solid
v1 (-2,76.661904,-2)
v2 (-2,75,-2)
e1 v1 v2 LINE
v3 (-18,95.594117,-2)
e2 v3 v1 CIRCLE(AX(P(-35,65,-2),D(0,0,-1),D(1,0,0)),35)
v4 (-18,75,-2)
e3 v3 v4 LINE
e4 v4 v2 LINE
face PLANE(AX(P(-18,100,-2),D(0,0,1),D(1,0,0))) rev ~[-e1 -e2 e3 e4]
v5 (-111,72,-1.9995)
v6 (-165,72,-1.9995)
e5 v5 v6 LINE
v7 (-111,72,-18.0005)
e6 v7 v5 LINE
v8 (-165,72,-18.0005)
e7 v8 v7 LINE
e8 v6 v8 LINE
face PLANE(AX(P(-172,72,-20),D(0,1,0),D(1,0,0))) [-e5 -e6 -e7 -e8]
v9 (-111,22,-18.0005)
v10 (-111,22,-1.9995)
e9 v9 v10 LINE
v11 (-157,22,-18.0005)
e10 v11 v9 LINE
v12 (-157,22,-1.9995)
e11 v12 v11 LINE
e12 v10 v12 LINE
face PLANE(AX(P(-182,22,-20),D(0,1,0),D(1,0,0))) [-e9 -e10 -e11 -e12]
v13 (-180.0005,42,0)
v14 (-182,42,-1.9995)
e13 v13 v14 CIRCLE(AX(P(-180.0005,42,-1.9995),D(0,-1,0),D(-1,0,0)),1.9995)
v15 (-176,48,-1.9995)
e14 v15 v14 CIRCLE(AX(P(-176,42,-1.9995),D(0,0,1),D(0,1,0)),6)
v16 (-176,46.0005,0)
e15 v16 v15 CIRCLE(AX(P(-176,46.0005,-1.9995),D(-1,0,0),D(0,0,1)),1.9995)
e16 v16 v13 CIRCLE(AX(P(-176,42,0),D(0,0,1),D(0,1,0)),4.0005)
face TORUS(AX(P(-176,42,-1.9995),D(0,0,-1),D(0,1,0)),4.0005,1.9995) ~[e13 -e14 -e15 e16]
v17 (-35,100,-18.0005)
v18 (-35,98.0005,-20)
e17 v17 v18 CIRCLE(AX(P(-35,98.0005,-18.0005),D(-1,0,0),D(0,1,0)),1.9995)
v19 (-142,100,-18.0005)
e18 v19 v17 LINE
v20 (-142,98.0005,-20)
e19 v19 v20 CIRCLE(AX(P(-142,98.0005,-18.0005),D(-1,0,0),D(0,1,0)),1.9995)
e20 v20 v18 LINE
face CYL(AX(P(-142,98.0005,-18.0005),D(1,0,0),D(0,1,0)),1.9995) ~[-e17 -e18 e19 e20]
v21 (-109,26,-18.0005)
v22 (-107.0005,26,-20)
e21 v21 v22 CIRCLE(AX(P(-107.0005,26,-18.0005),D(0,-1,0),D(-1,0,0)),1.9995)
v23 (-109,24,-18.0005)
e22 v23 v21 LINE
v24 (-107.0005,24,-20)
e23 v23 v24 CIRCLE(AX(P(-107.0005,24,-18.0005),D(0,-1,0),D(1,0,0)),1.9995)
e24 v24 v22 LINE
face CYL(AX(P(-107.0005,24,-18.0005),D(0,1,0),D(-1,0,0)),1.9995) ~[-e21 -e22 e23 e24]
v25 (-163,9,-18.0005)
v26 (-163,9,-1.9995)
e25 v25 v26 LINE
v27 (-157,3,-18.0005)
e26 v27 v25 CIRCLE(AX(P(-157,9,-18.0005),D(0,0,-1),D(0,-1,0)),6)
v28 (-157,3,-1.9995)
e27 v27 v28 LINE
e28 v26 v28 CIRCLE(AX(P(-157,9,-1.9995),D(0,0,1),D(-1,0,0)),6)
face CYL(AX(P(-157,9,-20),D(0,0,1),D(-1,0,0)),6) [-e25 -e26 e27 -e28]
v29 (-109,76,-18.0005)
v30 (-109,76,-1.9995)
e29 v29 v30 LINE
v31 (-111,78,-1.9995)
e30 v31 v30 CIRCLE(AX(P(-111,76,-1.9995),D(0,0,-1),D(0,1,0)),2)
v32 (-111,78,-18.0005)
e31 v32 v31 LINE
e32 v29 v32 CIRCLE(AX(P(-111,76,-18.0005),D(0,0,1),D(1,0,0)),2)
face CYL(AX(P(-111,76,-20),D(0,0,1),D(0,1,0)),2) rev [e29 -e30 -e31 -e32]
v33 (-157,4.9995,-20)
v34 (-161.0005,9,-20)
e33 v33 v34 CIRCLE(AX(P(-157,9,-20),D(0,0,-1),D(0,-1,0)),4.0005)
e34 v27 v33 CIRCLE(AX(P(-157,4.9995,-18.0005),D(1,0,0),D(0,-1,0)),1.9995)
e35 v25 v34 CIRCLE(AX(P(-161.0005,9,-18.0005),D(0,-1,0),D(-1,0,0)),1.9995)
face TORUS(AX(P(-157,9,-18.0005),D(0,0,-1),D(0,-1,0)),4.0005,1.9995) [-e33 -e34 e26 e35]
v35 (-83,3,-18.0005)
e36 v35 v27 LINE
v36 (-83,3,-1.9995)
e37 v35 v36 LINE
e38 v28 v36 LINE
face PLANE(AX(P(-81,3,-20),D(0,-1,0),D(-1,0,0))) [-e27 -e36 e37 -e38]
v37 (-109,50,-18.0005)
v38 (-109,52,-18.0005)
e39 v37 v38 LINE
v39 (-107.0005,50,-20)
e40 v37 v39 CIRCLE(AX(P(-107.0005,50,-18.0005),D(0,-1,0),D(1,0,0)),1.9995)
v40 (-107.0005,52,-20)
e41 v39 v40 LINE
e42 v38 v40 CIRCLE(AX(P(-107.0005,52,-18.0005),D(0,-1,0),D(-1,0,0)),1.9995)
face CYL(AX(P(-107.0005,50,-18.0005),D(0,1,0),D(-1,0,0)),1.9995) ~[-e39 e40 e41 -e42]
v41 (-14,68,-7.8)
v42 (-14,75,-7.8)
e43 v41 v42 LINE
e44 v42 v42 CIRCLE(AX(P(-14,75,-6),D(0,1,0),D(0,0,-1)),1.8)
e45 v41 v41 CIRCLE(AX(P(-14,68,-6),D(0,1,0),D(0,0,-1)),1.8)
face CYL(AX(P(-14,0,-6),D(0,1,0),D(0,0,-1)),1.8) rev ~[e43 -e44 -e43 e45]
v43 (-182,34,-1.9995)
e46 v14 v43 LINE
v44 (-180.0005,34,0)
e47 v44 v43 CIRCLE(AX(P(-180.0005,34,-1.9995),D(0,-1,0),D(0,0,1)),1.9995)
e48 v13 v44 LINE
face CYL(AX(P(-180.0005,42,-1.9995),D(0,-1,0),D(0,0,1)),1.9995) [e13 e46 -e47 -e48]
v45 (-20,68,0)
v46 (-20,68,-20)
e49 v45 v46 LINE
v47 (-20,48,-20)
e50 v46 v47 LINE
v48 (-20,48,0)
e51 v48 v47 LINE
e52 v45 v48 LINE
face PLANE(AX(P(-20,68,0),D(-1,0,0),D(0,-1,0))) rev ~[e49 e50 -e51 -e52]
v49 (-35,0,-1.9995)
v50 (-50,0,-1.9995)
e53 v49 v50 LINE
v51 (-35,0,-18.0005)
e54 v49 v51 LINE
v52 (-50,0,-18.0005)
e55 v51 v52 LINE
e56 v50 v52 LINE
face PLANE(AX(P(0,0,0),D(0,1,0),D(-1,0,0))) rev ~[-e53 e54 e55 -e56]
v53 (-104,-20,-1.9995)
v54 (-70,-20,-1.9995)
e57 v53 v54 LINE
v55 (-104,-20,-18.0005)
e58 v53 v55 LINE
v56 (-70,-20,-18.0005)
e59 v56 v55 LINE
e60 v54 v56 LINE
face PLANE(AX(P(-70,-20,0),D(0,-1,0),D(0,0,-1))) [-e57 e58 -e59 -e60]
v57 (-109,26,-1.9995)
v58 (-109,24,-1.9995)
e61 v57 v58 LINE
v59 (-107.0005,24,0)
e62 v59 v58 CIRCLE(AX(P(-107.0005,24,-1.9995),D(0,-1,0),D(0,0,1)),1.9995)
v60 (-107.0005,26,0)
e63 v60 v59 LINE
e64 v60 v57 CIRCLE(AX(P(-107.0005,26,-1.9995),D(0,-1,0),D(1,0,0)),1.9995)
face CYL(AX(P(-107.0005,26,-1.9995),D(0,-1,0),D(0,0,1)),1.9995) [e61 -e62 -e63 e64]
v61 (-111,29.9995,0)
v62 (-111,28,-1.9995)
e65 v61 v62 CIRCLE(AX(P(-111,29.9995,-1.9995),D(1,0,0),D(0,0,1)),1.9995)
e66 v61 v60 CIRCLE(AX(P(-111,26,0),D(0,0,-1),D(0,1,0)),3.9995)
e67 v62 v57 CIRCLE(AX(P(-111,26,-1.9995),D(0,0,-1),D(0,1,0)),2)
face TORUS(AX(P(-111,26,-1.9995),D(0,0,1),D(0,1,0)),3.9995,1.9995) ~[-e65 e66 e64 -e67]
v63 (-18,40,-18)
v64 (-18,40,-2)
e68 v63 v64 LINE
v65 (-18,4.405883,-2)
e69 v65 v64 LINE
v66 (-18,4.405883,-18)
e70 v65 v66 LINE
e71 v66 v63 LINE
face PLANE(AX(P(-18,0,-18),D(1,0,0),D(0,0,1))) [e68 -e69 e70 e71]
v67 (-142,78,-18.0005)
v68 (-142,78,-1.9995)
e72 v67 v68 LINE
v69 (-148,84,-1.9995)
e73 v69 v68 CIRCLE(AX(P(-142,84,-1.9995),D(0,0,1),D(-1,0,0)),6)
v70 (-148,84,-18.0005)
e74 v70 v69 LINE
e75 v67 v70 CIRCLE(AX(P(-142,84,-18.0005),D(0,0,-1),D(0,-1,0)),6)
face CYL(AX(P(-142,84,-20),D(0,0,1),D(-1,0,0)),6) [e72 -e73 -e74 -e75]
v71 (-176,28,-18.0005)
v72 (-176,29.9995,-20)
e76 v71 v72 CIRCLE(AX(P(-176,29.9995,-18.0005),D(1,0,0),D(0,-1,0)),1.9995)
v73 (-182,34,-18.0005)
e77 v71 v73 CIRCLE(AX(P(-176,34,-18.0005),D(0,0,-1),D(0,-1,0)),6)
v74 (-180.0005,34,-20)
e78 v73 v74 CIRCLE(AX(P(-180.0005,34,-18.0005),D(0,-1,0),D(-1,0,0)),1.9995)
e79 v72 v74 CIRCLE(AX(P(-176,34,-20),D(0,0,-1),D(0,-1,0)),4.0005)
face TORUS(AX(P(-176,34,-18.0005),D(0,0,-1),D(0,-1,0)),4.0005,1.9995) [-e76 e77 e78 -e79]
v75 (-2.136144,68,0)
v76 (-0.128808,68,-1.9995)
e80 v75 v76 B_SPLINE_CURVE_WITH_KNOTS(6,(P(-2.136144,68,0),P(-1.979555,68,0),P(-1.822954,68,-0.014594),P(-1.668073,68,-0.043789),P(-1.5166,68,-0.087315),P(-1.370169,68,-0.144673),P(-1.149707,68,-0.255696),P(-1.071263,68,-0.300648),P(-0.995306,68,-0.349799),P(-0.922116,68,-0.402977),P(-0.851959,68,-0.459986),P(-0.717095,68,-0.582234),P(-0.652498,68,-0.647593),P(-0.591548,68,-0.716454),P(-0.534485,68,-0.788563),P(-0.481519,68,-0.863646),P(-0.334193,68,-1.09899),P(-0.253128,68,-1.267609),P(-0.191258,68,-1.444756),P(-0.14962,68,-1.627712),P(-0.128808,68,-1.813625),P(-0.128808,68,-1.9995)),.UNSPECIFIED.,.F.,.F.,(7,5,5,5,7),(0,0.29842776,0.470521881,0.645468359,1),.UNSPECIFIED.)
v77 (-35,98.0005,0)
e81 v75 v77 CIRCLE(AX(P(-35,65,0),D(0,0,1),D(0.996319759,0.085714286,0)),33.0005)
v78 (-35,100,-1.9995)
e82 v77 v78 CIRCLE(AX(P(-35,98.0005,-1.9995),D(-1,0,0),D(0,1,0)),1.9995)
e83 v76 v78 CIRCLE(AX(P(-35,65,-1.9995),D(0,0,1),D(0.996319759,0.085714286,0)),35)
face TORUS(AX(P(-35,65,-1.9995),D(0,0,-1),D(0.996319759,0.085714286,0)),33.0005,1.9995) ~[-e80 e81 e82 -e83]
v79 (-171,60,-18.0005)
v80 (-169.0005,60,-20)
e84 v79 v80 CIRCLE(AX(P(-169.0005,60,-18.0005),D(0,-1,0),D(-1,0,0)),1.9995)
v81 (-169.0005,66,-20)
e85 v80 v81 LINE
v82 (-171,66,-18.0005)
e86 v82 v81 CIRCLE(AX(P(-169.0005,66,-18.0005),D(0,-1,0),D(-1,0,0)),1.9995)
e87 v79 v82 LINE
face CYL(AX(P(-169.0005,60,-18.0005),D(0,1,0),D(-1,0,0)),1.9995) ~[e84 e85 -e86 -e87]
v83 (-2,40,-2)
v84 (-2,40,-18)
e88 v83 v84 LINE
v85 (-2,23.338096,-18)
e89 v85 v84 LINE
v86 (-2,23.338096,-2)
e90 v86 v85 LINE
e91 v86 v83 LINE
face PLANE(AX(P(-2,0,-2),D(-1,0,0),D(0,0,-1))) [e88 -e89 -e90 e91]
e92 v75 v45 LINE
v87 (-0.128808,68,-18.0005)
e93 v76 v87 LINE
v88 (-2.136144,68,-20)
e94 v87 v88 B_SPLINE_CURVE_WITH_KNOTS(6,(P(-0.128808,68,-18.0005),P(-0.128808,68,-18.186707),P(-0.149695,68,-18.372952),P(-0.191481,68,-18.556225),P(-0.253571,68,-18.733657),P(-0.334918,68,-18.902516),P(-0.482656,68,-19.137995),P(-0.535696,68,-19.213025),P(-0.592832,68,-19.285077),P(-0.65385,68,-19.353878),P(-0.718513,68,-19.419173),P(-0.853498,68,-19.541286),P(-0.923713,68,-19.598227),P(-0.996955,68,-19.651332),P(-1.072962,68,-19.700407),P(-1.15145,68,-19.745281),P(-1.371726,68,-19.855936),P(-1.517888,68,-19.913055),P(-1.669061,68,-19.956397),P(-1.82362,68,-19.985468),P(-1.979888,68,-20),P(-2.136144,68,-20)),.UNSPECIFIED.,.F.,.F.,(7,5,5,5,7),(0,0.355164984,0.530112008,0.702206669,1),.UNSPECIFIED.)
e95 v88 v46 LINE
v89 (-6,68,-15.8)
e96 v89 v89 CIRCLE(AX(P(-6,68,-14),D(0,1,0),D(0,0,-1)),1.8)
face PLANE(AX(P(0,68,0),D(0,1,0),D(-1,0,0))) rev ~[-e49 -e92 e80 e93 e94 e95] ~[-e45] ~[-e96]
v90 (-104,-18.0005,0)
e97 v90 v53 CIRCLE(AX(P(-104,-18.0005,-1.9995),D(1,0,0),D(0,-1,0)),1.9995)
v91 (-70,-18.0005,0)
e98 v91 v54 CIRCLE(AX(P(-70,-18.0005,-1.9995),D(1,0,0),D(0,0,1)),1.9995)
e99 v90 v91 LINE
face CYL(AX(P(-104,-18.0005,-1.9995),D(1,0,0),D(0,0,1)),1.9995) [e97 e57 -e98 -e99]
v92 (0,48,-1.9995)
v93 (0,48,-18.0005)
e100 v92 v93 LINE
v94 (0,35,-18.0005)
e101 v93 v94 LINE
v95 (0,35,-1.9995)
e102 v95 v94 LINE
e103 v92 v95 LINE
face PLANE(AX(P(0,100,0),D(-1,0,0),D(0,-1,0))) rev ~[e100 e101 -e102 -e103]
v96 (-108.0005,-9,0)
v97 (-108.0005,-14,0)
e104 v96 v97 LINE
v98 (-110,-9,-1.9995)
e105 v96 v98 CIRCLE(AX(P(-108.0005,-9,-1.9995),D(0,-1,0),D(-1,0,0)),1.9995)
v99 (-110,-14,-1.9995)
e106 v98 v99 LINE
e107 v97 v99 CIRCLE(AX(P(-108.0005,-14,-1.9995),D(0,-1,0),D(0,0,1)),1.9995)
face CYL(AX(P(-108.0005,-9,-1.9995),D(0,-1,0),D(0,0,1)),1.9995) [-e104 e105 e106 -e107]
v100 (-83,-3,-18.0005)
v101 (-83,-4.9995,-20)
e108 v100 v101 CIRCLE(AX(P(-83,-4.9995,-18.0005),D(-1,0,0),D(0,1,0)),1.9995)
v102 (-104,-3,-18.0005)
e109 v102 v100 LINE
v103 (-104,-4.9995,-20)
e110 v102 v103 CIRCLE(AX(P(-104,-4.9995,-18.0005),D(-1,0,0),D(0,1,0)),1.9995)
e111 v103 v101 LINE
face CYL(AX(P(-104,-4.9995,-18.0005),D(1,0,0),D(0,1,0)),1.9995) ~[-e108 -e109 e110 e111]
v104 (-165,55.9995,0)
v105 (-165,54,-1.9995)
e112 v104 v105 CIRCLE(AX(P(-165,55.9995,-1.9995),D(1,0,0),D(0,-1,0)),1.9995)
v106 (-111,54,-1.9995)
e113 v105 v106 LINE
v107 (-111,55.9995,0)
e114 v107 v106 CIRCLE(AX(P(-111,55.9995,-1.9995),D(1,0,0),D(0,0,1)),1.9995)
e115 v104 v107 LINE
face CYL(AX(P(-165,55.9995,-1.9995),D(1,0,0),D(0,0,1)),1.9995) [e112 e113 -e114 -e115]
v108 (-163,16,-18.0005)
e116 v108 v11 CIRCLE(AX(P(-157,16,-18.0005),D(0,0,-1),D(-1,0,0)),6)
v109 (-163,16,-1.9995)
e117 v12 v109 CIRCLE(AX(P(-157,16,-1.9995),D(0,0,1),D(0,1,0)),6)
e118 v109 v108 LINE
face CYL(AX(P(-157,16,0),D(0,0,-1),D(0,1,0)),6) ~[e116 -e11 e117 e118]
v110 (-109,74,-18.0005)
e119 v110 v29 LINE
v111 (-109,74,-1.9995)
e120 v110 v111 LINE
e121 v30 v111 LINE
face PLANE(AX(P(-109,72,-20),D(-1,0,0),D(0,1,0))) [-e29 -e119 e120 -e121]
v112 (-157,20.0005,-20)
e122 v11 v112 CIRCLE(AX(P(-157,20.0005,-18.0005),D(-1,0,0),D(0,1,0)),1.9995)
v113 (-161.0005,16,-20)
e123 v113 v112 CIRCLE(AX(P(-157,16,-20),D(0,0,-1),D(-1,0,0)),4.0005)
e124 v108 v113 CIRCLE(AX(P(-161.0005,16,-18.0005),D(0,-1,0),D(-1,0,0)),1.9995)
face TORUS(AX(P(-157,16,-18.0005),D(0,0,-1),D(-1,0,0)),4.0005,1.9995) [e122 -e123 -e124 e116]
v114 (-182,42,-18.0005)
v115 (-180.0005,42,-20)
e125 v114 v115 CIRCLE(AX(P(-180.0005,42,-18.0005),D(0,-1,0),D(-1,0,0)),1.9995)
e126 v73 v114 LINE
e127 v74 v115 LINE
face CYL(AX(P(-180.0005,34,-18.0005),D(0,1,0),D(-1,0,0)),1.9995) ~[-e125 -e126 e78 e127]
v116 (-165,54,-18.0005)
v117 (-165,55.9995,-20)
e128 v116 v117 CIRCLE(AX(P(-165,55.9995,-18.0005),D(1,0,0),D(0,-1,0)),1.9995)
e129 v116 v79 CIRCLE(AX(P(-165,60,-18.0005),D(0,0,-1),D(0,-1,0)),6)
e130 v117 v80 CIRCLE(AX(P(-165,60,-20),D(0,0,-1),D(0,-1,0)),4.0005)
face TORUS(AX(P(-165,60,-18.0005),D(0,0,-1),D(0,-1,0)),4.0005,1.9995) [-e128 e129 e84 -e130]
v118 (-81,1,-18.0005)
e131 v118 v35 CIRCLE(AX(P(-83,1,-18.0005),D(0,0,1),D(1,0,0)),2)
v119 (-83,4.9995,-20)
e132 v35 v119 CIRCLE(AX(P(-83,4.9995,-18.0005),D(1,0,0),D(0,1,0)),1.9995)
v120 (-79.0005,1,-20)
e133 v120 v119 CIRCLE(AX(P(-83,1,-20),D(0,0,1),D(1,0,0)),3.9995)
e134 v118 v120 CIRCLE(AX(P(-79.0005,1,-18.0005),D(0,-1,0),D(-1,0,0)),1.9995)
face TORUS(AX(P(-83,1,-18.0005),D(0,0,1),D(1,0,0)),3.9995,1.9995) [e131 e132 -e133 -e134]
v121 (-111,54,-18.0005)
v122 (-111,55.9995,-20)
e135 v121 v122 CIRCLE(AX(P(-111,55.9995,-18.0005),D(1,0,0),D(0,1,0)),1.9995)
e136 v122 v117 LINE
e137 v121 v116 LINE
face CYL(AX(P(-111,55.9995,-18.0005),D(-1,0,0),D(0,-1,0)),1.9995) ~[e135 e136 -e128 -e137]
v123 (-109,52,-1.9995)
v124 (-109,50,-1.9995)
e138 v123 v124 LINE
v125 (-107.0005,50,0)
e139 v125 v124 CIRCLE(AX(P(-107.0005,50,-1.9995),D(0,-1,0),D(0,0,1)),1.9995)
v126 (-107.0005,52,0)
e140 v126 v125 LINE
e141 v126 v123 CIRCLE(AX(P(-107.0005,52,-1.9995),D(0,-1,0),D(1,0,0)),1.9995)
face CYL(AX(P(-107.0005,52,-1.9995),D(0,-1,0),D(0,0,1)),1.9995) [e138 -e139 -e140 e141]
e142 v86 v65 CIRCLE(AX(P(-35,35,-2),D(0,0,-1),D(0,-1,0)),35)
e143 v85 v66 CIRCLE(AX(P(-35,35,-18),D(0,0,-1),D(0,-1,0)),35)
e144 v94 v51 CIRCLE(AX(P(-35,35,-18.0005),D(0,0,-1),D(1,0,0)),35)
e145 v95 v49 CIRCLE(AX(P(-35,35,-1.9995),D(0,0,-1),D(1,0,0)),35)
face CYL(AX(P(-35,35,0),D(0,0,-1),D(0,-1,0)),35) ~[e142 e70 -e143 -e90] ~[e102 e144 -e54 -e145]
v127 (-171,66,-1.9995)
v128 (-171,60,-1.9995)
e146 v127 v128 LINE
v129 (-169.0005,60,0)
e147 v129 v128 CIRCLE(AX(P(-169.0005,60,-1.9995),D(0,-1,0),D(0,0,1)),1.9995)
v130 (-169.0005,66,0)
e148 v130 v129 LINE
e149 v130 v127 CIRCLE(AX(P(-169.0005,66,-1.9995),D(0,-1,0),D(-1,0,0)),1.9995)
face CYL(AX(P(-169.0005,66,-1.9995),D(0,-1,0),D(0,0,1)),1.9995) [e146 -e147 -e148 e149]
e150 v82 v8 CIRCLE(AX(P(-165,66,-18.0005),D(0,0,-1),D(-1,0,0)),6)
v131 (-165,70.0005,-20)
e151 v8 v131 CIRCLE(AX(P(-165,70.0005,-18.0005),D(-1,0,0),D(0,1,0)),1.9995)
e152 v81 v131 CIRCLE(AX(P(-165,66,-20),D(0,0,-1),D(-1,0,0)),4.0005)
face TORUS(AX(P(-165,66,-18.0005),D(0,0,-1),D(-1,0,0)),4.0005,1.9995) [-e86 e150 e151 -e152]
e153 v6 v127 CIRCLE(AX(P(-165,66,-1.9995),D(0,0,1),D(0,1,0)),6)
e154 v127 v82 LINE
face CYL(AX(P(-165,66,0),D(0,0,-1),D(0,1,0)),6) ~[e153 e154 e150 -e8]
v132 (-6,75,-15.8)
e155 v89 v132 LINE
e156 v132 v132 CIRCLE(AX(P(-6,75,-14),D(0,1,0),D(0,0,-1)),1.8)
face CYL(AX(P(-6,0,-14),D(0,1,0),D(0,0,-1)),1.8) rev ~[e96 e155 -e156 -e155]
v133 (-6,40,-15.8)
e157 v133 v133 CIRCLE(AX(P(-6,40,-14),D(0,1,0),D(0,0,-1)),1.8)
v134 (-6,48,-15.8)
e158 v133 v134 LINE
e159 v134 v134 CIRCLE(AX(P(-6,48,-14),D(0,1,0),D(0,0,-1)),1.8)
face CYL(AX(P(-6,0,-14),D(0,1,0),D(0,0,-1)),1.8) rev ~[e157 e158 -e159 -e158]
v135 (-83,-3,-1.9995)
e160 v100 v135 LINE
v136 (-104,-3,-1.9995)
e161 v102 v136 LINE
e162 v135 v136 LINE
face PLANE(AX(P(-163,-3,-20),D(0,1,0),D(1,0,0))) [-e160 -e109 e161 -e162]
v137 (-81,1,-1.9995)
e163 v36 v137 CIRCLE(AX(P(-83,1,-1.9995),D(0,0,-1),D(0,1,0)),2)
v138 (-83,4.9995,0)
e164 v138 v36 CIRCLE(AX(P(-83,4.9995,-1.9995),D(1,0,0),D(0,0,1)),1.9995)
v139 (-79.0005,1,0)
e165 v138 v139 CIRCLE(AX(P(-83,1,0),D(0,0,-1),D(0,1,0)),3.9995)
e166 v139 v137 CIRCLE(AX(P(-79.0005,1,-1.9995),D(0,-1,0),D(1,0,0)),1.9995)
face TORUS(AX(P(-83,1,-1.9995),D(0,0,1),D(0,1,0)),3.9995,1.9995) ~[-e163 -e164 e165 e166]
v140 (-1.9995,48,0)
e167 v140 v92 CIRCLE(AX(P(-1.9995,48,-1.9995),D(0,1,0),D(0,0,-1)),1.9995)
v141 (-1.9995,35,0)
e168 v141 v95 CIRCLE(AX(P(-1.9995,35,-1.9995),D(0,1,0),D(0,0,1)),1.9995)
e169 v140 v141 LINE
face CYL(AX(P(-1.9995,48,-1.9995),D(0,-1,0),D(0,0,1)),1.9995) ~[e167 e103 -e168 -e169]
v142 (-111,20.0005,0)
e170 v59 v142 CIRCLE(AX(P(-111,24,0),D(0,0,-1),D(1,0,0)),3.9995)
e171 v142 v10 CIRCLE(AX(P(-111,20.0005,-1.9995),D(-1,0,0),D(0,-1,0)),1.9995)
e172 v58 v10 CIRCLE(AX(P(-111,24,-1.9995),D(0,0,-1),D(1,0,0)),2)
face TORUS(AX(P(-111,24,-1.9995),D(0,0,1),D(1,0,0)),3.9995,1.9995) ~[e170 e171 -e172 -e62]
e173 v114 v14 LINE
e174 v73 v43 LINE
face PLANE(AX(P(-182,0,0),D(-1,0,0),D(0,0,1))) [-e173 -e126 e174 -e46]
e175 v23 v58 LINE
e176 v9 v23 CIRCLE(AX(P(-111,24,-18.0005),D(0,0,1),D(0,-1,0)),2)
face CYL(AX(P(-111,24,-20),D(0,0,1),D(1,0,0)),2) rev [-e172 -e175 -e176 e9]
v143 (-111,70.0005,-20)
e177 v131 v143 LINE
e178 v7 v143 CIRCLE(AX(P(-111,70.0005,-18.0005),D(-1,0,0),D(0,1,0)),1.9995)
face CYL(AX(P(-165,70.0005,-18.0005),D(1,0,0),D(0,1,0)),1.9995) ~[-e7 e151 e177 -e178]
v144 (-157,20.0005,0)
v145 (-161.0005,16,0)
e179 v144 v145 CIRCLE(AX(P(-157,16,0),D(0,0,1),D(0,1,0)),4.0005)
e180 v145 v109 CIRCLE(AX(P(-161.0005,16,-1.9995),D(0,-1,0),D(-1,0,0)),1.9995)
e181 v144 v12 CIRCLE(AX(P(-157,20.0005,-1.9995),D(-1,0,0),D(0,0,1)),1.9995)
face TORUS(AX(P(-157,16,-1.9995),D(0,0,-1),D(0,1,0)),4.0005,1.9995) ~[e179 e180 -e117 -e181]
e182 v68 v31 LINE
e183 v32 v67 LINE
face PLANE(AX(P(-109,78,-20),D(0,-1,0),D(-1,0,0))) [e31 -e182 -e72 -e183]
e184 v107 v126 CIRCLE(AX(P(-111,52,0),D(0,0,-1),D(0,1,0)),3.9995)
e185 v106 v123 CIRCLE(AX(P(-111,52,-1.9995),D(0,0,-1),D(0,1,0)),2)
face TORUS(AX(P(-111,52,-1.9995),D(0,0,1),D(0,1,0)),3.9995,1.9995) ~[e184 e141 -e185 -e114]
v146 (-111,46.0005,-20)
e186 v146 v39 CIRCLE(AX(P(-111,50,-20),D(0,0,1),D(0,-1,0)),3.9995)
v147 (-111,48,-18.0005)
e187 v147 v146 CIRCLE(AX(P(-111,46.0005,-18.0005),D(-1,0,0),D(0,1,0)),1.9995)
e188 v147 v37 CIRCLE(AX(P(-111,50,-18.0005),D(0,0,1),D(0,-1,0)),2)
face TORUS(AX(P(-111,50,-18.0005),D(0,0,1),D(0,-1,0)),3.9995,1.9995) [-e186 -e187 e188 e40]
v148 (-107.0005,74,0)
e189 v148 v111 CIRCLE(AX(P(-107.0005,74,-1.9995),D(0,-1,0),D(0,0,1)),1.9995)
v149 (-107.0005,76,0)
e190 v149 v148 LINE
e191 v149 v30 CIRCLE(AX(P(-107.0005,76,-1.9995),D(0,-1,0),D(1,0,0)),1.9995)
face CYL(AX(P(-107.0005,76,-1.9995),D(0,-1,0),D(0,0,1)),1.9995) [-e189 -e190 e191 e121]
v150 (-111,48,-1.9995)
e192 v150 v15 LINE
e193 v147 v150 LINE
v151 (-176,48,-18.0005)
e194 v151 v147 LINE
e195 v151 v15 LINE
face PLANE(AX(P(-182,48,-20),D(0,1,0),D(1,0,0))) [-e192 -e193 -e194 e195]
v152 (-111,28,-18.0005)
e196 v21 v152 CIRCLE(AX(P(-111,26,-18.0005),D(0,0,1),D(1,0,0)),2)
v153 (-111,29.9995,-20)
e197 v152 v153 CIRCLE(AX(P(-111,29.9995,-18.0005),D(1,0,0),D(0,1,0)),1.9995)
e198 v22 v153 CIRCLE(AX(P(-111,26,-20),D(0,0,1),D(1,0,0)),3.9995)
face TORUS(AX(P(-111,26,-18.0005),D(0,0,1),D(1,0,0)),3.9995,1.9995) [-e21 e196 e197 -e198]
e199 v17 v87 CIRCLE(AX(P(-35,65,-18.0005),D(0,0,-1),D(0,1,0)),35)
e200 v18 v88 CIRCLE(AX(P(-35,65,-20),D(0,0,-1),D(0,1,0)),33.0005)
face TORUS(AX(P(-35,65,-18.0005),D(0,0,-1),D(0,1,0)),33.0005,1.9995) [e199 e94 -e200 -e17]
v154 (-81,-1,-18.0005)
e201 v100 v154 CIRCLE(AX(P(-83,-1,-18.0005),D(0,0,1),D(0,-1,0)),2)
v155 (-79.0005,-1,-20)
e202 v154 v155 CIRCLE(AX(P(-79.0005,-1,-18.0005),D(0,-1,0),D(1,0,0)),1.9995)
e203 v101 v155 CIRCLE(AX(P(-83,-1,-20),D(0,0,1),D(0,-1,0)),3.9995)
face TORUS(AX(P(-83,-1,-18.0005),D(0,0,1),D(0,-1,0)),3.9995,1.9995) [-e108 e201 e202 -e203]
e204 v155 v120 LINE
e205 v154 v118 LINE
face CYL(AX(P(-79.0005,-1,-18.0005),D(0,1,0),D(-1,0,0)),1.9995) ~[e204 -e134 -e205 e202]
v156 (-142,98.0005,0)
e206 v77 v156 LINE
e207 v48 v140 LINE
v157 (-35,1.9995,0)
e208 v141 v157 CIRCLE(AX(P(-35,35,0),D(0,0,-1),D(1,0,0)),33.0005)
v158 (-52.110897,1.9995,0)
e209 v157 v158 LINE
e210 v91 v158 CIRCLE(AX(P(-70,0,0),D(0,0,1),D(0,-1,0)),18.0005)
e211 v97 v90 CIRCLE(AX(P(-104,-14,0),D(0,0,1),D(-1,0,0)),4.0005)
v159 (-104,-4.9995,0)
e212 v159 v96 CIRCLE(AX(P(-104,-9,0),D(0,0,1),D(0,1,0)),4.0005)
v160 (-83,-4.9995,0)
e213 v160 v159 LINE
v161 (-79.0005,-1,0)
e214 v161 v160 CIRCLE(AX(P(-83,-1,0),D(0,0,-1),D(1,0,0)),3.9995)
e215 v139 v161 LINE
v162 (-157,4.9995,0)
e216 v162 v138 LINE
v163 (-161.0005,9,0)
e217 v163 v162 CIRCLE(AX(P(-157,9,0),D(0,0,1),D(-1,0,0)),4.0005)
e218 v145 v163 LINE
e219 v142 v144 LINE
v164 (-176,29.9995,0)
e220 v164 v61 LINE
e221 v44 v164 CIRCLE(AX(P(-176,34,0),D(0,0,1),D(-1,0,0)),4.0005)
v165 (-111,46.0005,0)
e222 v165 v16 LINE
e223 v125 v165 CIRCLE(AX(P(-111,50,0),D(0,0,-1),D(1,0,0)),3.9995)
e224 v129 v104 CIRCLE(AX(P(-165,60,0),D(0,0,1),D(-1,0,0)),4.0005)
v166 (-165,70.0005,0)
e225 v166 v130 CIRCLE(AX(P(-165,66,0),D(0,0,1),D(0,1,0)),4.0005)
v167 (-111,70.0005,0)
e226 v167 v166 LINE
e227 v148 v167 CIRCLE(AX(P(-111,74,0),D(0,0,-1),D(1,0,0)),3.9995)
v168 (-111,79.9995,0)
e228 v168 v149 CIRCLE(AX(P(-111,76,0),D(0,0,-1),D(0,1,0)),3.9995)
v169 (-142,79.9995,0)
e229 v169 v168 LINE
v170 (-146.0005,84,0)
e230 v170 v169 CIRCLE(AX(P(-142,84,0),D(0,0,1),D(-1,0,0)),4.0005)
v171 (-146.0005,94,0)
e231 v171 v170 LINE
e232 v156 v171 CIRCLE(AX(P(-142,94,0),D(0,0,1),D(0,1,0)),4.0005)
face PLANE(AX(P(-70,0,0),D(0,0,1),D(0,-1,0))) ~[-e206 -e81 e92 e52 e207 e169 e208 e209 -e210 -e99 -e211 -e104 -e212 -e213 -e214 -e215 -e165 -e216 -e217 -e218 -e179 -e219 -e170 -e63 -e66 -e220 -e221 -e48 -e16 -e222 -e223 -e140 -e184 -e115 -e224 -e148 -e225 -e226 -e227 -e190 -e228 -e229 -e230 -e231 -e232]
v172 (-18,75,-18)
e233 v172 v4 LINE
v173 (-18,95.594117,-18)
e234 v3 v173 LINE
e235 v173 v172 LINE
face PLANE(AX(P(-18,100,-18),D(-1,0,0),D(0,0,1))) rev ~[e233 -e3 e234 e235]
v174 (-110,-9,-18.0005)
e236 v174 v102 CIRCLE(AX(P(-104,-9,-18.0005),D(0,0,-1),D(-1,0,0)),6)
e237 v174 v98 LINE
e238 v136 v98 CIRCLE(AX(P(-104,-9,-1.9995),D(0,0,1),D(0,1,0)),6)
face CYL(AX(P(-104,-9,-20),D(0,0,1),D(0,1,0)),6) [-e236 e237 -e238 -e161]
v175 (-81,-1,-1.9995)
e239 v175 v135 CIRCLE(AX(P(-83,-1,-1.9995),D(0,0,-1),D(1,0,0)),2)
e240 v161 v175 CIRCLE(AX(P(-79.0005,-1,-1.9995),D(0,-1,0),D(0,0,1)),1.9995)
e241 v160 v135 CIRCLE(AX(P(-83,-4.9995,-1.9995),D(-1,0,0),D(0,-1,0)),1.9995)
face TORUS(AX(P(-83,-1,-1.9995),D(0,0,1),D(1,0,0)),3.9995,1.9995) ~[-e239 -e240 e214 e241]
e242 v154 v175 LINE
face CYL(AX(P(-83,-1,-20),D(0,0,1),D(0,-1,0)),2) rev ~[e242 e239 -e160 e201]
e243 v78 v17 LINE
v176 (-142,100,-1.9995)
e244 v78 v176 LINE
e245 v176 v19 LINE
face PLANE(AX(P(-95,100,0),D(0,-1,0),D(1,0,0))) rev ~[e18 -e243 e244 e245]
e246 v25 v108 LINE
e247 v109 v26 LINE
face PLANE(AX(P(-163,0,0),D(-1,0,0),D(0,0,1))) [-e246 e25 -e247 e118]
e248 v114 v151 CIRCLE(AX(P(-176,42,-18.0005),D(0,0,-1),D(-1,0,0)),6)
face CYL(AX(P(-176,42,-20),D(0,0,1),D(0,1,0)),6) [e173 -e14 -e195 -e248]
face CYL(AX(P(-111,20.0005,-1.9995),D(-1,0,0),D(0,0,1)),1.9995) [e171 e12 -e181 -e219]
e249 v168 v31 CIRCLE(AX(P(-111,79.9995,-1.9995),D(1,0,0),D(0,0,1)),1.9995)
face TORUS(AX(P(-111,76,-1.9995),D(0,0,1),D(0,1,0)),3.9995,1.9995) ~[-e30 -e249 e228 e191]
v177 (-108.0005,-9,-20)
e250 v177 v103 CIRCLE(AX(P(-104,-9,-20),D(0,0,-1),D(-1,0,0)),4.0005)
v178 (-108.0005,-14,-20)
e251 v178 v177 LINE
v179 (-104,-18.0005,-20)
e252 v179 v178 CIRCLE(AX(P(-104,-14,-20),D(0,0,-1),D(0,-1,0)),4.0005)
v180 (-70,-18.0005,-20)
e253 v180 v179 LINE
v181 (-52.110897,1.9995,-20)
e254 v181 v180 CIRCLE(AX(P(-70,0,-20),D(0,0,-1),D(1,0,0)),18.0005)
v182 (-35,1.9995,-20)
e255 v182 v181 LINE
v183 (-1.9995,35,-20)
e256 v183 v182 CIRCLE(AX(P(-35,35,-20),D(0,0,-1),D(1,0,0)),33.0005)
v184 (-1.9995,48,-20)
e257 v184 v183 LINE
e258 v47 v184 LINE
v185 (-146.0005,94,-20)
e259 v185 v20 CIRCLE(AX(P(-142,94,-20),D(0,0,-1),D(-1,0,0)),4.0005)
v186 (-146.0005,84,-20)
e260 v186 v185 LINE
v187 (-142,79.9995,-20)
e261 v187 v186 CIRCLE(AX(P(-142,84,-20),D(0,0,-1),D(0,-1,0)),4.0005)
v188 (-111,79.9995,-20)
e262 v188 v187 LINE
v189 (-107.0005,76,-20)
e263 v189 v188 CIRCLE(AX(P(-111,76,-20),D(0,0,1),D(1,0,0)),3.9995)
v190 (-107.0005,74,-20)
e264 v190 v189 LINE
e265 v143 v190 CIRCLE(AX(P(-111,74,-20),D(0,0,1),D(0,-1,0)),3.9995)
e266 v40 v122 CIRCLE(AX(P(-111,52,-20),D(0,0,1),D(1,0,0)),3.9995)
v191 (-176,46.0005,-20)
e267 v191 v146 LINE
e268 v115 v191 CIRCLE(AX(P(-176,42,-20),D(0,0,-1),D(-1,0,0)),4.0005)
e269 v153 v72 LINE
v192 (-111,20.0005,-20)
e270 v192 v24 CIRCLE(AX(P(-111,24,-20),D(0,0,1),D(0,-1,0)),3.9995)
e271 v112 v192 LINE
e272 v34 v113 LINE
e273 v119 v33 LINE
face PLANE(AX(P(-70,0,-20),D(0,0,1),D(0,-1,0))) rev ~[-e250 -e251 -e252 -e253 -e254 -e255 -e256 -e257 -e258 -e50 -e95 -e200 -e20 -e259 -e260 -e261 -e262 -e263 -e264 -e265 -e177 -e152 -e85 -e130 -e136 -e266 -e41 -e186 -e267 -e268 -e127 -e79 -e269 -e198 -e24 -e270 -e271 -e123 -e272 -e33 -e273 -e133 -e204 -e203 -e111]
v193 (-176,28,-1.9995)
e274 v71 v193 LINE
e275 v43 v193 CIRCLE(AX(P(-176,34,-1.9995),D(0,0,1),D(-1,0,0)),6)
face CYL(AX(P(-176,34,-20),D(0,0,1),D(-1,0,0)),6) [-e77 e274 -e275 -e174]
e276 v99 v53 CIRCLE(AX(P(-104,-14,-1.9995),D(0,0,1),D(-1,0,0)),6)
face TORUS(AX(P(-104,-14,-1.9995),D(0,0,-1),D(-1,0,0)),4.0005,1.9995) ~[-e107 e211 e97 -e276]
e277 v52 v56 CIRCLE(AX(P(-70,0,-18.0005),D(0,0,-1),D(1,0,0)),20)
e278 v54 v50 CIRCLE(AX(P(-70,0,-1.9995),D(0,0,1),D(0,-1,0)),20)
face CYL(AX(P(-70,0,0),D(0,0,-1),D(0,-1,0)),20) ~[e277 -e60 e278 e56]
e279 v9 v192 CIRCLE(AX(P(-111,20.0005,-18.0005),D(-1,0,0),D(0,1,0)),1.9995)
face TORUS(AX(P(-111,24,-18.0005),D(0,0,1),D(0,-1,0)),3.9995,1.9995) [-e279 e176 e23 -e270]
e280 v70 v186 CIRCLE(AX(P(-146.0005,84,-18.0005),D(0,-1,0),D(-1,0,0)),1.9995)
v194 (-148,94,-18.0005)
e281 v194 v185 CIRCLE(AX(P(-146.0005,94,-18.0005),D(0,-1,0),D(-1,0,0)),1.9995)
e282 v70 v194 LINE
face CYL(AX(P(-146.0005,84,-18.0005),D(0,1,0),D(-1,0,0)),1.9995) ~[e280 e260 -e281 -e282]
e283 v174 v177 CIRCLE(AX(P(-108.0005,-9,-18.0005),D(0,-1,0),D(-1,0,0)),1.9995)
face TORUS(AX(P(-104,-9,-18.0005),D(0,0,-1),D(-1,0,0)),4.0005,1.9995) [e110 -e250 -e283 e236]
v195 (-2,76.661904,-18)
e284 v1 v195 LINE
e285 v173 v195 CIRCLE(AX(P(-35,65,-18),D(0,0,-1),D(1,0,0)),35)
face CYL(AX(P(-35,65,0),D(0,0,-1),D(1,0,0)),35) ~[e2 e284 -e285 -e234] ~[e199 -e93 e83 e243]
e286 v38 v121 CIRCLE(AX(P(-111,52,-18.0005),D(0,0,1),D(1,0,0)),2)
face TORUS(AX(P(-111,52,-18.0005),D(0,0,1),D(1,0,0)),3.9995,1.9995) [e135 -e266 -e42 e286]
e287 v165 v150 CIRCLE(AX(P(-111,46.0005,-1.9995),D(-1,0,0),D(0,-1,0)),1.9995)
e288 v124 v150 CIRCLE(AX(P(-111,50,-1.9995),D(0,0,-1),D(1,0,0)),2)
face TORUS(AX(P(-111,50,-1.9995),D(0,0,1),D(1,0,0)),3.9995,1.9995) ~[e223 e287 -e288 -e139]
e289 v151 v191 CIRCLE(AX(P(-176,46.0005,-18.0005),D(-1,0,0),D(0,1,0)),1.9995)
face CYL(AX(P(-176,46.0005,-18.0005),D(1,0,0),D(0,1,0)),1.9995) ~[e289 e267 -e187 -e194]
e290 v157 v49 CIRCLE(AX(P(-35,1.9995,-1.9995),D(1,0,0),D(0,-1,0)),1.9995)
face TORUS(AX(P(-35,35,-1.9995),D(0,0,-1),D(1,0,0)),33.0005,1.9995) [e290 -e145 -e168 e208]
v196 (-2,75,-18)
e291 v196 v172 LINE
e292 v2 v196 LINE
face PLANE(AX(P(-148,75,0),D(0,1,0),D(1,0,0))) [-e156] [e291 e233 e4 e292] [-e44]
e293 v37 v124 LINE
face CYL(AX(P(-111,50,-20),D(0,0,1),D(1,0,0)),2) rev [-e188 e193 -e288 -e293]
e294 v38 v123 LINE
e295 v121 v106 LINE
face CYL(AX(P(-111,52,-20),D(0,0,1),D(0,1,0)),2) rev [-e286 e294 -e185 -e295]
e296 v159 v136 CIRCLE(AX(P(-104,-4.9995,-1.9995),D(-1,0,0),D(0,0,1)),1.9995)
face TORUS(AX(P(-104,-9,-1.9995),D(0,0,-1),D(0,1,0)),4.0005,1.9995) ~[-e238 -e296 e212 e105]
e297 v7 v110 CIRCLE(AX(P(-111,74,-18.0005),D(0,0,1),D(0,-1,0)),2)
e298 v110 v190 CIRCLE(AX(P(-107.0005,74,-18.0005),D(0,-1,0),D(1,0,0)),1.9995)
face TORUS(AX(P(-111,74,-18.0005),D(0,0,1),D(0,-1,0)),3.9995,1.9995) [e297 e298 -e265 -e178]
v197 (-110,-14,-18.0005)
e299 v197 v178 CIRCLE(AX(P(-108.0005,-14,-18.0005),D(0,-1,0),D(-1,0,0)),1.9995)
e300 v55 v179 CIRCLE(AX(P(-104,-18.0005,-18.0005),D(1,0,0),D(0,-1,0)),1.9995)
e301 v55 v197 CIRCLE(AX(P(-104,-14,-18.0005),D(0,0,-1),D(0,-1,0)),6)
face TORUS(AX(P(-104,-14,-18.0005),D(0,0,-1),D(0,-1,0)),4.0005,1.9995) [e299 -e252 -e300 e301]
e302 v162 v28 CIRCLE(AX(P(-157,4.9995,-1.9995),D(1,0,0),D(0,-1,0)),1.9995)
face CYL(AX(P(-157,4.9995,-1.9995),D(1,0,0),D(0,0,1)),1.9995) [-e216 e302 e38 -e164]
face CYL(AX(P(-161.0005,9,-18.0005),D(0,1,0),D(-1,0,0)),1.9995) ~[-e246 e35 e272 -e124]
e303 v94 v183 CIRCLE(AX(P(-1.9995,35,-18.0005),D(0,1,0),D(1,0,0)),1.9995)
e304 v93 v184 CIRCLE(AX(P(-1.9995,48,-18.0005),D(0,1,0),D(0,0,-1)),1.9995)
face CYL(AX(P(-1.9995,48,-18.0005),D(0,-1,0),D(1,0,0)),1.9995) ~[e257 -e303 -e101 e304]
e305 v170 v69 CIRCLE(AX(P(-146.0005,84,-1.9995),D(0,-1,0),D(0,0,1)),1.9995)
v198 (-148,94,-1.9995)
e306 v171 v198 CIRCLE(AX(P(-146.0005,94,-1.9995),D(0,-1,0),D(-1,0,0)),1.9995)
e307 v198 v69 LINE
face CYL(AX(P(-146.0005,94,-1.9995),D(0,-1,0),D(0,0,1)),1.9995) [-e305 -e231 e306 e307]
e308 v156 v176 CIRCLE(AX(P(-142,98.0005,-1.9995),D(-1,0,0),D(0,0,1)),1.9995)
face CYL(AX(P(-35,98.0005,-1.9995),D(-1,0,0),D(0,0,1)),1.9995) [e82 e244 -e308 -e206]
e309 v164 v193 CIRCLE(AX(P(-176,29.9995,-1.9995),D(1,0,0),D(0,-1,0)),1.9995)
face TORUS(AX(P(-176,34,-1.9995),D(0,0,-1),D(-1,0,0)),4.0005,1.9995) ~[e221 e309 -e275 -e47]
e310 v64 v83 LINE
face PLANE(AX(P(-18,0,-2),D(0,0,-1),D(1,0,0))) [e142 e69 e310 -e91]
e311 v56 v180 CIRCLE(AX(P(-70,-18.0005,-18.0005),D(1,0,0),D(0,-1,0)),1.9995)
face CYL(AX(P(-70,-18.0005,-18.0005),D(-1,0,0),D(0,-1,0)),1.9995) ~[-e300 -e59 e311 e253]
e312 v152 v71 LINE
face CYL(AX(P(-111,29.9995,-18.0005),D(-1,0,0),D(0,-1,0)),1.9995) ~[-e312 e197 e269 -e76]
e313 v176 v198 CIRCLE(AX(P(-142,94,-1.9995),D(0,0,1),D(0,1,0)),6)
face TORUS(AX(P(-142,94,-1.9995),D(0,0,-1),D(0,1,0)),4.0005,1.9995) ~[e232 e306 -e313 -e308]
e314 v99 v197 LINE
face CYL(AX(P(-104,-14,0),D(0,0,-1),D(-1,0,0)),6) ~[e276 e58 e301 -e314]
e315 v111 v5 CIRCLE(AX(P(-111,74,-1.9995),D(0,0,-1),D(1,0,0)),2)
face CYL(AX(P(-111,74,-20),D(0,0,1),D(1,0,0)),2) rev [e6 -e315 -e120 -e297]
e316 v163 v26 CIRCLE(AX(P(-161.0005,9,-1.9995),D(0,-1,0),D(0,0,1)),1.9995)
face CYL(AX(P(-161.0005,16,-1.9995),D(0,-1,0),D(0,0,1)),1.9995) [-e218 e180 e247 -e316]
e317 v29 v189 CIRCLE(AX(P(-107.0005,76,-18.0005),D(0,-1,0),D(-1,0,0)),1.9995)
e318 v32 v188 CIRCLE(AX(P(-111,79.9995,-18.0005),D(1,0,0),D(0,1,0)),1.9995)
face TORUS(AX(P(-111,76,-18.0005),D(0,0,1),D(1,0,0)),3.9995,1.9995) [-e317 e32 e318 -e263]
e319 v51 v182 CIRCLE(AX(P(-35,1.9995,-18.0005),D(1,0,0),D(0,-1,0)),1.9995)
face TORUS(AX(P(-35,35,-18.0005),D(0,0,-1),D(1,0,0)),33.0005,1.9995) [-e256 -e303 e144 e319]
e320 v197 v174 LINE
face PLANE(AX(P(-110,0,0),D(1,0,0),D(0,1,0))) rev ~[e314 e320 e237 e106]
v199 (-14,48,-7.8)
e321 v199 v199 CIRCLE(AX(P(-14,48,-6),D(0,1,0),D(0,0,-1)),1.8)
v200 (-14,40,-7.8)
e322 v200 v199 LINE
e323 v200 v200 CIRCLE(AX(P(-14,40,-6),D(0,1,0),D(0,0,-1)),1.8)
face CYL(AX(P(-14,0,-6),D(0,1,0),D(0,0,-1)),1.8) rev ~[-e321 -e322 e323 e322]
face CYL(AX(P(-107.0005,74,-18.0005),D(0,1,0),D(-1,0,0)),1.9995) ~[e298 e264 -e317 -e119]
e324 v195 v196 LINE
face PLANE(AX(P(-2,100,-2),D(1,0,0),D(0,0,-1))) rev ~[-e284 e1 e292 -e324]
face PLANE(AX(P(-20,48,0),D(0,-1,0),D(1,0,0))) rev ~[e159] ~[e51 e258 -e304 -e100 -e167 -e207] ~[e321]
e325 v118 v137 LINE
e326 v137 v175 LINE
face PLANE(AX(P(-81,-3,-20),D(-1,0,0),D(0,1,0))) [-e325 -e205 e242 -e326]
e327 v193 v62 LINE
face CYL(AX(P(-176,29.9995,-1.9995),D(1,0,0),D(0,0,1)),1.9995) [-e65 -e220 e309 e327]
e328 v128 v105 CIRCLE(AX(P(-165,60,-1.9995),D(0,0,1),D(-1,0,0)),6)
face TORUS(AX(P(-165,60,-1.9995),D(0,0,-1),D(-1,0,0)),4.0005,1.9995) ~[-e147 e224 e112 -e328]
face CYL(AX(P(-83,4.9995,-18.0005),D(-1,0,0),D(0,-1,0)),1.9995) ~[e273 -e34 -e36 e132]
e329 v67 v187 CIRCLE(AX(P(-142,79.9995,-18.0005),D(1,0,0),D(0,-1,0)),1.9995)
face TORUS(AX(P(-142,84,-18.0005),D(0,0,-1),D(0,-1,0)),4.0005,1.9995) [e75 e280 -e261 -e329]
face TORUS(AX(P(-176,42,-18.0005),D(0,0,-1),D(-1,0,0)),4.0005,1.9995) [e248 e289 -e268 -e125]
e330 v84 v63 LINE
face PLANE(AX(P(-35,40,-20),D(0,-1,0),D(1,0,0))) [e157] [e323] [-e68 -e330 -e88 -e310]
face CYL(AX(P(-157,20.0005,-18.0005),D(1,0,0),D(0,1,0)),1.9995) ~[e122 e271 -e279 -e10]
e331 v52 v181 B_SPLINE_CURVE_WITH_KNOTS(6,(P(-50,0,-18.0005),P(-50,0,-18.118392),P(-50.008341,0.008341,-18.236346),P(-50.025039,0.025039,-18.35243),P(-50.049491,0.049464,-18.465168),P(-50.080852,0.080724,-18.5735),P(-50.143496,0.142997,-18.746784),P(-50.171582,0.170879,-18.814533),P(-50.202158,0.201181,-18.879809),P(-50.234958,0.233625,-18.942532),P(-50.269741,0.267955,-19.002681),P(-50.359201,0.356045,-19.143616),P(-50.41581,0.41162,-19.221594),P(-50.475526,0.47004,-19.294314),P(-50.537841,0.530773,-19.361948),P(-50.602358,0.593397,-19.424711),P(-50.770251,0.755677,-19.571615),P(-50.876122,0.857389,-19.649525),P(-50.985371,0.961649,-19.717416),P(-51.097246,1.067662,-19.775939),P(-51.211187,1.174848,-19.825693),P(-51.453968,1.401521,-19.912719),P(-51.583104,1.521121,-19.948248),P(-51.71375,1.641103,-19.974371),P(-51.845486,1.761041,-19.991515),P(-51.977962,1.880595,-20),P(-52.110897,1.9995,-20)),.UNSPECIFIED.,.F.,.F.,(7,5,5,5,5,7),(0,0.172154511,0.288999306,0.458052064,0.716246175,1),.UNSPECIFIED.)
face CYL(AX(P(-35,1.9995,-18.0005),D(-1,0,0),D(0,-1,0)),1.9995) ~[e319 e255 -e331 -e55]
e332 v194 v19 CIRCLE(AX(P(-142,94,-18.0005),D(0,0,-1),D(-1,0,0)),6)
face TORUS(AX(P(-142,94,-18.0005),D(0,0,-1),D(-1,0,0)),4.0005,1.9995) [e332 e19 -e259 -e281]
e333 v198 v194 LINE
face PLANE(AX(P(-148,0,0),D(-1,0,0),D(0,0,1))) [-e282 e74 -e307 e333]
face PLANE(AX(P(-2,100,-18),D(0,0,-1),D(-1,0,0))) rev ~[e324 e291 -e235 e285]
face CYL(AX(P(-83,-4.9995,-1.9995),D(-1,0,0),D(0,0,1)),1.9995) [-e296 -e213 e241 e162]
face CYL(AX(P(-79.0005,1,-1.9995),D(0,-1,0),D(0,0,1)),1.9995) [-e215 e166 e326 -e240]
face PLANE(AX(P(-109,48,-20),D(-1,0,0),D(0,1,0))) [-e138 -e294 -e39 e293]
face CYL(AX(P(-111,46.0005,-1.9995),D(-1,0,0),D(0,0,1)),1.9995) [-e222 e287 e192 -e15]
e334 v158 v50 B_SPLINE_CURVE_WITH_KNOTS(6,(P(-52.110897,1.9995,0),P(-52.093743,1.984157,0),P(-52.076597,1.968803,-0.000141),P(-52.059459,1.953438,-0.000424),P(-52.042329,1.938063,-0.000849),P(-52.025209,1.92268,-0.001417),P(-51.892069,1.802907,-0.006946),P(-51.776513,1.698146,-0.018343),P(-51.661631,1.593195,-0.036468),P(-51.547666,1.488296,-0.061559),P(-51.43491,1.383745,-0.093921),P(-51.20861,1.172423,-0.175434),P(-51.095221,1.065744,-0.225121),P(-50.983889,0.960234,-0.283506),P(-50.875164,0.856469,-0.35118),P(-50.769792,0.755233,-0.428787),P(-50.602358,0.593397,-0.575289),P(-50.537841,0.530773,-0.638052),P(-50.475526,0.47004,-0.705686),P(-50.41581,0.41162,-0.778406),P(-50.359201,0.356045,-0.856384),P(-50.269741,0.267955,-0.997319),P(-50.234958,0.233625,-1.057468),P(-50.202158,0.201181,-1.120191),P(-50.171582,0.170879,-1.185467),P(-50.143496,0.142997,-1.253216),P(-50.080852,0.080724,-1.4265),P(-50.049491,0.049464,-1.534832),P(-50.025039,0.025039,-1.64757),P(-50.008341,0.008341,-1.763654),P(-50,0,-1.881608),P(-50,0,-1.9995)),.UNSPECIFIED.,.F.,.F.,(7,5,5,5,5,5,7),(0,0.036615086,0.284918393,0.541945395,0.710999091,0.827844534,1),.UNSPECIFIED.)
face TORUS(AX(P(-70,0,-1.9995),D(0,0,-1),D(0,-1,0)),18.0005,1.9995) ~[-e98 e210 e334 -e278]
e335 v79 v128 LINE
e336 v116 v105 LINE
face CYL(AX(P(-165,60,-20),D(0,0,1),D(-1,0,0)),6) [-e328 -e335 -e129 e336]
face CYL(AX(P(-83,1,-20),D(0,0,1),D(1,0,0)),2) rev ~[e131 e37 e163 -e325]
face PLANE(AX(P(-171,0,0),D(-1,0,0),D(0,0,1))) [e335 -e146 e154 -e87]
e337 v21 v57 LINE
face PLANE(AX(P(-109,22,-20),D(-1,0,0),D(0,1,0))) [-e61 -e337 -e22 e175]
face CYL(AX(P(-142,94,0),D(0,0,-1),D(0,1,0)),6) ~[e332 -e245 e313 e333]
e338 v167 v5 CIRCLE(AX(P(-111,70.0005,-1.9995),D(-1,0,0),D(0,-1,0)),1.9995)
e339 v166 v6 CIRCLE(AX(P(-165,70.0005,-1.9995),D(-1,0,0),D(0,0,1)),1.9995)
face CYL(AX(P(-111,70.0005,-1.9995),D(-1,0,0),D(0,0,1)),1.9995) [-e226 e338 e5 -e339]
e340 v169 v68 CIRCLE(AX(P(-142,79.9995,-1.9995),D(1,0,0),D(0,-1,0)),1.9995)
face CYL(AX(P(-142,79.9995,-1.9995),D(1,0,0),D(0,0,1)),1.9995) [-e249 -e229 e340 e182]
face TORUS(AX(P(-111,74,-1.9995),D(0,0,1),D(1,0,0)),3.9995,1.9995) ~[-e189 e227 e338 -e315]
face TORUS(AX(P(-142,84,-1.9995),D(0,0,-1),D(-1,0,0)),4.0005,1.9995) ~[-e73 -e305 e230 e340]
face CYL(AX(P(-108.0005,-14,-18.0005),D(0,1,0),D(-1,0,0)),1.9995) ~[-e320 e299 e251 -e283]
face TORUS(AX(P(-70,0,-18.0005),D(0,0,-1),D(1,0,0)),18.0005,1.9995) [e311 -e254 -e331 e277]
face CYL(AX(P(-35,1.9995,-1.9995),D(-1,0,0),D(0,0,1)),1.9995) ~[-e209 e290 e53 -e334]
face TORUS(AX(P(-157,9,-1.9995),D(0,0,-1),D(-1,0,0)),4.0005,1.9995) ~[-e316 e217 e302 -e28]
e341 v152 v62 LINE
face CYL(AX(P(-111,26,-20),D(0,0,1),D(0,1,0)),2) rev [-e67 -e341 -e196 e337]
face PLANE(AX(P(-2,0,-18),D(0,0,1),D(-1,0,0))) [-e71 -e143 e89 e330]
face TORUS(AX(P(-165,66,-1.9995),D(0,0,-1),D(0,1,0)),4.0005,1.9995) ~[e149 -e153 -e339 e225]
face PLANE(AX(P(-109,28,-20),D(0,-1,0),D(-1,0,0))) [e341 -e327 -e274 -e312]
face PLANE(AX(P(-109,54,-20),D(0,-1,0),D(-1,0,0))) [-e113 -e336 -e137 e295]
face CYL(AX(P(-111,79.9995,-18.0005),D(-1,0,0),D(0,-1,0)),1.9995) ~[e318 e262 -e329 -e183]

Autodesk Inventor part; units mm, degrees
ref_plane "XY Plane" through (0, 0, 0) normal (0, 0, 1) x (1, 0, 0)
sketch "Sketch1" plane through (0, 0, 0) normal (0, 0, 1) x (1, 0, 0)
  line L0 (0, 0) -> (-95, 0)
  line L1 (-95, 0) -> (-95, 100)
  line L2 (-95, 100) -> (0, 100)
  line L3 (0, 100) -> (0, 0)
  dimension "d0" = 100
  dimension "d1" = 95
extrude "Extrusion1" add sketch "Sketch1" against normal blind 20
sketch "Sketch2" plane through (-95, 0, 0) normal (-1, 0, 0) x (0, 0, 1)
  circle A0 centre (-10, 10) radius 10
  circle A1 centre (-10, 37) radius 10
  circle A2 centre (-10, 63) radius 10
  circle A3 centre (-10, 90) radius 10
  line L0 (0, 0) -> (-20, 0) projected
  line L1 (0, 100) -> (-20, 100) projected
  line L2 (-20, 0) -> (-20, 100) projected
  line L3 (0, 0) -> (-20, 0)
  line L4 (-20, 0) -> (-20, 25)
  line L5 (-20, 25) -> (0, 25)
  line L6 (0, 25) -> (0, 0)
  line L7 (-20, 25) -> (0, 25)
  line L8 (0, 25) -> (0, 50)
  line L9 (0, 50) -> (-20, 50)
  line L10 (-20, 50) -> (-20, 25)
  line L11 (0, 50) -> (-20, 50)
  line L12 (-20, 50) -> (-20, 75)
  line L13 (-20, 75) -> (0, 75)
  line L14 (0, 75) -> (0, 50)
  line L15 (-20, 75) -> (0, 75)
  line L16 (0, 75) -> (0, 100)
  line L17 (0, 100) -> (-20, 100)
  line L18 (-20, 100) -> (-20, 75)
  point P0 (0, 90)
  point P1 (-20, 90)
  point P2 (-10, 100)
  point P3 (0, 37)
  point P4 (-20, 37)
  point P5 (0, 63)
  point P6 (-20, 63)
  point P7 (0, 10)
  point P8 (-20, 10)
  point P9 (-10, 0)
  dimension "d4" = 20
  dimension "d5" = 20
  dimension "d6" = 20
  dimension "d7" = 20
  dimension "d8" = 10
  dimension "d10" = 27
  dimension "d11" = 27
extrude "Extrusion2" add sketch "Sketch2" along normal blind 53 contours L13 L2 A3 L16 | A3 | A3 L1 L16 | L2 L1 A3
extrude "Extrusion3" add sketch "Sketch2" along normal blind 76 contours L9 L2 A2 L14 | A2 | A2 L2 L13 L14
extrude "Extrusion4" add sketch "Sketch2" along normal blind 87 contours L5 L2 A1 L8 | A1 | A1 L2 L9 L8
extrude "Extrusion5" add sketch "Sketch2" along normal blind 68 contours A0 | L6 L0 A0 | A0 L2 L5 L6 | A0 L0 L2
fillet "Fillet1" radius 35 2 edges at (0, 0, -10) (0, 100, -10)
sketch "Sketch14" plane through (0, 0, -20) normal (0, 0, -1) x (-1, 0, 0)
  point P0 (0, 0)
ref_plane "Work Plane3" through (0, 65, 0) normal (0, 1, 0) x (-1, 0, 0)
ref_plane "Work Plane4" through (-70, 0, 0) normal (1, 0, 0) x (0, 1, 0)
sketch "Sketch18" plane through (-70, 0, 0) normal (1, 0, 0) x (0, 1, 0)
  line L0 (0, 0) -> (0, -20) projected
  line L1 (0, 0) -> (-20, 0)
  line L2 (-20, 0) -> (-20, -20)
  line L3 (-20, -20) -> (0, -20)
  line L4 (0, -20) -> (0, 0)
  dimension "d63" = 20
  dimension "d64" = 20
extrude "Extrusion10" add sketch "Sketch18" against normal blind 40
sketch "Sketch19" plane through (-70, 0, 0) normal (1, 0, 0) x (0, 0, -1)
  line L0 (0, -20) -> (20, -20) projected
  line L1 (0, 0) -> (0, -20) projected
  line L2 (20, -20) -> (20, 0) projected
  line L3 (0, 0) -> (20, 0) projected
revolve "Revolution7" add sketch "Sketch19" angle 90 about axis through (-70, 0, 0) along (0, 0, 1)
sketch "Sketch24" plane through (0, 0, 0) normal (0, 0, 1) x (1, 0, 0)
  line L0 (0, 68) -> (-20, 68)
  line L1 (-20, 68) -> (-20, 48)
  line L2 (-20, 48) -> (0, 48)
  line L3 (0, 48) -> (0, 68)
  point P0 (0, 0)
  dimension "d98" = 20
  dimension "d99" = 20
  dimension "d100" = 48
  dimension "d101" = 20
extrude "Extrusion14" cut sketch "Sketch24" against normal blind 20
sketch "Sketch25" plane through (-148, 100, 0) normal (0, 1, 0) x (1, 0, 0)
  line L0 (148, 0) -> (128, 0)
  line L1 (128, 0) -> (128, 20)
  line L2 (128, 20) -> (148, 20)
  line L3 (148, 20) -> (148, 0)
  line L4 (146, 18) -> (130, 18)
  line L5 (130, 18) -> (130, 2)
  line L6 (130, 2) -> (146, 2)
  line L7 (146, 2) -> (146, 18)
  dimension "d104" = 20
  dimension "d105" = 20
extrude "Extrusion15" cut sketch "Sketch25" against normal blind 25 contours L7 L6 L5 L4
sketch "Sketch26" plane through (-35, 0, -20) normal (0, -1, 0) x (1, 0, 0)
  line L0 (35, 20) -> (15, 20)
  line L1 (15, 20) -> (15, 0)
  line L2 (15, 0) -> (35, 0)
  line L3 (35, 0) -> (35, 20)
  line L4 (17, 18) -> (33, 18)
  line L5 (33, 18) -> (33, 2)
  line L6 (33, 2) -> (17, 2)
  line L7 (17, 2) -> (17, 18)
  point P0 (29, 6)
  point P1 (21, 14)
  point P2 (21, 6)
  point P3 (29, 14)
  dimension "d108" = 20
  dimension "d109" = 20
  dimension "d112" = 8
  dimension "d113" = 8
  dimension "d114" = 6
  dimension "d115" = 6
extrude "Extrusion16" cut sketch "Sketch26" against normal blind 40 contours L4 L5 L6 L7
hole "Hole1" at (-14, 0, -6) at (-6, 0, -14) direction (0, 1, 0) diameter 3.6 end through all clearance for "Flat Head Machine Screw" size "M3" standard "Ansi Metric M Profile"
sketch "Sketch27" plane through (0, 0, -20) normal (0, 0, -1) x (-1, 0, 0)
  line L0 (182, 22) -> (109, 22)
  line L1 (109, 22) -> (109, 28)
  line L2 (109, 28) -> (182, 28)
  line L3 (182, 28) -> (182, 22)
  line L4 (182, 48) -> (109, 48)
  line L5 (109, 48) -> (109, 54)
  line L6 (109, 54) -> (182, 54)
  line L7 (182, 54) -> (182, 48)
  line L8 (172, 72) -> (109, 72)
  line L9 (109, 72) -> (109, 78)
  line L10 (109, 78) -> (172, 78)
  line L11 (172, 78) -> (172, 72)
  line L12 (163, -3) -> (81, -3)
  line L13 (81, -3) -> (81, 3)
  line L14 (81, 3) -> (163, 3)
  line L15 (163, 3) -> (163, -3)
  point P0 (0, 0)
extrude "Extrusion17" cut sketch "Sketch27" against normal through all
fillet "Fillet17" radius 6 10 edges at (-110, -20, -10) (-110, -3, -10) (-163, 3, -10) (-163, 22, -10) (-182, 28, -10) (-182, 48, -10) (-171, 54, -10) (-171, 72, -10) (-148, 100, -10) (-148, 78, -10)
fillet "Fillet18" radius 2 8 edges at (-81, -3, -10) (-81, 3, -10) (-109, 22, -10) (-109, 28, -10) (-109, 48, -10) (-109, 54, -10) (-109, 72, -10) (-109, 78, -10)
fillet "Fillet19" radius 2 30 edges at (-148, 89, 0) (-171, 63, 0) (-182, 38, 0) (-163, 12.5, 0) (-120, 3, 0) (-81.5858, 2.4142, 0) (-81, 0, 0) (-110, -11.5, 0) (-87, -20, 0) (-55.8579, -14.1421, 0) (-11.3357, 90.7876, 0) (-88.5, 100, 0) (-148, 89, -20) (-171, 63, -20) (-182, 38, -20) (-163, 12.5, -20) (-120, 3, -20) (-81.5858, 2.4142, -20) (-81, 0, -20) (-110, -11.5, -20) (-87, -20, -20) (-55.8579, -14.1421, -20) (-11.3357, 90.7876, -20) (-88.5, 100, -20) (0, 41.5, -20) (-42.5, 0, -20) (-10.2513, 10.2513, -20) (-42.5, 0, 0) (0, 41.5, 0) (-10.2513, 10.2513, 0)
properties part number "Handv3"
